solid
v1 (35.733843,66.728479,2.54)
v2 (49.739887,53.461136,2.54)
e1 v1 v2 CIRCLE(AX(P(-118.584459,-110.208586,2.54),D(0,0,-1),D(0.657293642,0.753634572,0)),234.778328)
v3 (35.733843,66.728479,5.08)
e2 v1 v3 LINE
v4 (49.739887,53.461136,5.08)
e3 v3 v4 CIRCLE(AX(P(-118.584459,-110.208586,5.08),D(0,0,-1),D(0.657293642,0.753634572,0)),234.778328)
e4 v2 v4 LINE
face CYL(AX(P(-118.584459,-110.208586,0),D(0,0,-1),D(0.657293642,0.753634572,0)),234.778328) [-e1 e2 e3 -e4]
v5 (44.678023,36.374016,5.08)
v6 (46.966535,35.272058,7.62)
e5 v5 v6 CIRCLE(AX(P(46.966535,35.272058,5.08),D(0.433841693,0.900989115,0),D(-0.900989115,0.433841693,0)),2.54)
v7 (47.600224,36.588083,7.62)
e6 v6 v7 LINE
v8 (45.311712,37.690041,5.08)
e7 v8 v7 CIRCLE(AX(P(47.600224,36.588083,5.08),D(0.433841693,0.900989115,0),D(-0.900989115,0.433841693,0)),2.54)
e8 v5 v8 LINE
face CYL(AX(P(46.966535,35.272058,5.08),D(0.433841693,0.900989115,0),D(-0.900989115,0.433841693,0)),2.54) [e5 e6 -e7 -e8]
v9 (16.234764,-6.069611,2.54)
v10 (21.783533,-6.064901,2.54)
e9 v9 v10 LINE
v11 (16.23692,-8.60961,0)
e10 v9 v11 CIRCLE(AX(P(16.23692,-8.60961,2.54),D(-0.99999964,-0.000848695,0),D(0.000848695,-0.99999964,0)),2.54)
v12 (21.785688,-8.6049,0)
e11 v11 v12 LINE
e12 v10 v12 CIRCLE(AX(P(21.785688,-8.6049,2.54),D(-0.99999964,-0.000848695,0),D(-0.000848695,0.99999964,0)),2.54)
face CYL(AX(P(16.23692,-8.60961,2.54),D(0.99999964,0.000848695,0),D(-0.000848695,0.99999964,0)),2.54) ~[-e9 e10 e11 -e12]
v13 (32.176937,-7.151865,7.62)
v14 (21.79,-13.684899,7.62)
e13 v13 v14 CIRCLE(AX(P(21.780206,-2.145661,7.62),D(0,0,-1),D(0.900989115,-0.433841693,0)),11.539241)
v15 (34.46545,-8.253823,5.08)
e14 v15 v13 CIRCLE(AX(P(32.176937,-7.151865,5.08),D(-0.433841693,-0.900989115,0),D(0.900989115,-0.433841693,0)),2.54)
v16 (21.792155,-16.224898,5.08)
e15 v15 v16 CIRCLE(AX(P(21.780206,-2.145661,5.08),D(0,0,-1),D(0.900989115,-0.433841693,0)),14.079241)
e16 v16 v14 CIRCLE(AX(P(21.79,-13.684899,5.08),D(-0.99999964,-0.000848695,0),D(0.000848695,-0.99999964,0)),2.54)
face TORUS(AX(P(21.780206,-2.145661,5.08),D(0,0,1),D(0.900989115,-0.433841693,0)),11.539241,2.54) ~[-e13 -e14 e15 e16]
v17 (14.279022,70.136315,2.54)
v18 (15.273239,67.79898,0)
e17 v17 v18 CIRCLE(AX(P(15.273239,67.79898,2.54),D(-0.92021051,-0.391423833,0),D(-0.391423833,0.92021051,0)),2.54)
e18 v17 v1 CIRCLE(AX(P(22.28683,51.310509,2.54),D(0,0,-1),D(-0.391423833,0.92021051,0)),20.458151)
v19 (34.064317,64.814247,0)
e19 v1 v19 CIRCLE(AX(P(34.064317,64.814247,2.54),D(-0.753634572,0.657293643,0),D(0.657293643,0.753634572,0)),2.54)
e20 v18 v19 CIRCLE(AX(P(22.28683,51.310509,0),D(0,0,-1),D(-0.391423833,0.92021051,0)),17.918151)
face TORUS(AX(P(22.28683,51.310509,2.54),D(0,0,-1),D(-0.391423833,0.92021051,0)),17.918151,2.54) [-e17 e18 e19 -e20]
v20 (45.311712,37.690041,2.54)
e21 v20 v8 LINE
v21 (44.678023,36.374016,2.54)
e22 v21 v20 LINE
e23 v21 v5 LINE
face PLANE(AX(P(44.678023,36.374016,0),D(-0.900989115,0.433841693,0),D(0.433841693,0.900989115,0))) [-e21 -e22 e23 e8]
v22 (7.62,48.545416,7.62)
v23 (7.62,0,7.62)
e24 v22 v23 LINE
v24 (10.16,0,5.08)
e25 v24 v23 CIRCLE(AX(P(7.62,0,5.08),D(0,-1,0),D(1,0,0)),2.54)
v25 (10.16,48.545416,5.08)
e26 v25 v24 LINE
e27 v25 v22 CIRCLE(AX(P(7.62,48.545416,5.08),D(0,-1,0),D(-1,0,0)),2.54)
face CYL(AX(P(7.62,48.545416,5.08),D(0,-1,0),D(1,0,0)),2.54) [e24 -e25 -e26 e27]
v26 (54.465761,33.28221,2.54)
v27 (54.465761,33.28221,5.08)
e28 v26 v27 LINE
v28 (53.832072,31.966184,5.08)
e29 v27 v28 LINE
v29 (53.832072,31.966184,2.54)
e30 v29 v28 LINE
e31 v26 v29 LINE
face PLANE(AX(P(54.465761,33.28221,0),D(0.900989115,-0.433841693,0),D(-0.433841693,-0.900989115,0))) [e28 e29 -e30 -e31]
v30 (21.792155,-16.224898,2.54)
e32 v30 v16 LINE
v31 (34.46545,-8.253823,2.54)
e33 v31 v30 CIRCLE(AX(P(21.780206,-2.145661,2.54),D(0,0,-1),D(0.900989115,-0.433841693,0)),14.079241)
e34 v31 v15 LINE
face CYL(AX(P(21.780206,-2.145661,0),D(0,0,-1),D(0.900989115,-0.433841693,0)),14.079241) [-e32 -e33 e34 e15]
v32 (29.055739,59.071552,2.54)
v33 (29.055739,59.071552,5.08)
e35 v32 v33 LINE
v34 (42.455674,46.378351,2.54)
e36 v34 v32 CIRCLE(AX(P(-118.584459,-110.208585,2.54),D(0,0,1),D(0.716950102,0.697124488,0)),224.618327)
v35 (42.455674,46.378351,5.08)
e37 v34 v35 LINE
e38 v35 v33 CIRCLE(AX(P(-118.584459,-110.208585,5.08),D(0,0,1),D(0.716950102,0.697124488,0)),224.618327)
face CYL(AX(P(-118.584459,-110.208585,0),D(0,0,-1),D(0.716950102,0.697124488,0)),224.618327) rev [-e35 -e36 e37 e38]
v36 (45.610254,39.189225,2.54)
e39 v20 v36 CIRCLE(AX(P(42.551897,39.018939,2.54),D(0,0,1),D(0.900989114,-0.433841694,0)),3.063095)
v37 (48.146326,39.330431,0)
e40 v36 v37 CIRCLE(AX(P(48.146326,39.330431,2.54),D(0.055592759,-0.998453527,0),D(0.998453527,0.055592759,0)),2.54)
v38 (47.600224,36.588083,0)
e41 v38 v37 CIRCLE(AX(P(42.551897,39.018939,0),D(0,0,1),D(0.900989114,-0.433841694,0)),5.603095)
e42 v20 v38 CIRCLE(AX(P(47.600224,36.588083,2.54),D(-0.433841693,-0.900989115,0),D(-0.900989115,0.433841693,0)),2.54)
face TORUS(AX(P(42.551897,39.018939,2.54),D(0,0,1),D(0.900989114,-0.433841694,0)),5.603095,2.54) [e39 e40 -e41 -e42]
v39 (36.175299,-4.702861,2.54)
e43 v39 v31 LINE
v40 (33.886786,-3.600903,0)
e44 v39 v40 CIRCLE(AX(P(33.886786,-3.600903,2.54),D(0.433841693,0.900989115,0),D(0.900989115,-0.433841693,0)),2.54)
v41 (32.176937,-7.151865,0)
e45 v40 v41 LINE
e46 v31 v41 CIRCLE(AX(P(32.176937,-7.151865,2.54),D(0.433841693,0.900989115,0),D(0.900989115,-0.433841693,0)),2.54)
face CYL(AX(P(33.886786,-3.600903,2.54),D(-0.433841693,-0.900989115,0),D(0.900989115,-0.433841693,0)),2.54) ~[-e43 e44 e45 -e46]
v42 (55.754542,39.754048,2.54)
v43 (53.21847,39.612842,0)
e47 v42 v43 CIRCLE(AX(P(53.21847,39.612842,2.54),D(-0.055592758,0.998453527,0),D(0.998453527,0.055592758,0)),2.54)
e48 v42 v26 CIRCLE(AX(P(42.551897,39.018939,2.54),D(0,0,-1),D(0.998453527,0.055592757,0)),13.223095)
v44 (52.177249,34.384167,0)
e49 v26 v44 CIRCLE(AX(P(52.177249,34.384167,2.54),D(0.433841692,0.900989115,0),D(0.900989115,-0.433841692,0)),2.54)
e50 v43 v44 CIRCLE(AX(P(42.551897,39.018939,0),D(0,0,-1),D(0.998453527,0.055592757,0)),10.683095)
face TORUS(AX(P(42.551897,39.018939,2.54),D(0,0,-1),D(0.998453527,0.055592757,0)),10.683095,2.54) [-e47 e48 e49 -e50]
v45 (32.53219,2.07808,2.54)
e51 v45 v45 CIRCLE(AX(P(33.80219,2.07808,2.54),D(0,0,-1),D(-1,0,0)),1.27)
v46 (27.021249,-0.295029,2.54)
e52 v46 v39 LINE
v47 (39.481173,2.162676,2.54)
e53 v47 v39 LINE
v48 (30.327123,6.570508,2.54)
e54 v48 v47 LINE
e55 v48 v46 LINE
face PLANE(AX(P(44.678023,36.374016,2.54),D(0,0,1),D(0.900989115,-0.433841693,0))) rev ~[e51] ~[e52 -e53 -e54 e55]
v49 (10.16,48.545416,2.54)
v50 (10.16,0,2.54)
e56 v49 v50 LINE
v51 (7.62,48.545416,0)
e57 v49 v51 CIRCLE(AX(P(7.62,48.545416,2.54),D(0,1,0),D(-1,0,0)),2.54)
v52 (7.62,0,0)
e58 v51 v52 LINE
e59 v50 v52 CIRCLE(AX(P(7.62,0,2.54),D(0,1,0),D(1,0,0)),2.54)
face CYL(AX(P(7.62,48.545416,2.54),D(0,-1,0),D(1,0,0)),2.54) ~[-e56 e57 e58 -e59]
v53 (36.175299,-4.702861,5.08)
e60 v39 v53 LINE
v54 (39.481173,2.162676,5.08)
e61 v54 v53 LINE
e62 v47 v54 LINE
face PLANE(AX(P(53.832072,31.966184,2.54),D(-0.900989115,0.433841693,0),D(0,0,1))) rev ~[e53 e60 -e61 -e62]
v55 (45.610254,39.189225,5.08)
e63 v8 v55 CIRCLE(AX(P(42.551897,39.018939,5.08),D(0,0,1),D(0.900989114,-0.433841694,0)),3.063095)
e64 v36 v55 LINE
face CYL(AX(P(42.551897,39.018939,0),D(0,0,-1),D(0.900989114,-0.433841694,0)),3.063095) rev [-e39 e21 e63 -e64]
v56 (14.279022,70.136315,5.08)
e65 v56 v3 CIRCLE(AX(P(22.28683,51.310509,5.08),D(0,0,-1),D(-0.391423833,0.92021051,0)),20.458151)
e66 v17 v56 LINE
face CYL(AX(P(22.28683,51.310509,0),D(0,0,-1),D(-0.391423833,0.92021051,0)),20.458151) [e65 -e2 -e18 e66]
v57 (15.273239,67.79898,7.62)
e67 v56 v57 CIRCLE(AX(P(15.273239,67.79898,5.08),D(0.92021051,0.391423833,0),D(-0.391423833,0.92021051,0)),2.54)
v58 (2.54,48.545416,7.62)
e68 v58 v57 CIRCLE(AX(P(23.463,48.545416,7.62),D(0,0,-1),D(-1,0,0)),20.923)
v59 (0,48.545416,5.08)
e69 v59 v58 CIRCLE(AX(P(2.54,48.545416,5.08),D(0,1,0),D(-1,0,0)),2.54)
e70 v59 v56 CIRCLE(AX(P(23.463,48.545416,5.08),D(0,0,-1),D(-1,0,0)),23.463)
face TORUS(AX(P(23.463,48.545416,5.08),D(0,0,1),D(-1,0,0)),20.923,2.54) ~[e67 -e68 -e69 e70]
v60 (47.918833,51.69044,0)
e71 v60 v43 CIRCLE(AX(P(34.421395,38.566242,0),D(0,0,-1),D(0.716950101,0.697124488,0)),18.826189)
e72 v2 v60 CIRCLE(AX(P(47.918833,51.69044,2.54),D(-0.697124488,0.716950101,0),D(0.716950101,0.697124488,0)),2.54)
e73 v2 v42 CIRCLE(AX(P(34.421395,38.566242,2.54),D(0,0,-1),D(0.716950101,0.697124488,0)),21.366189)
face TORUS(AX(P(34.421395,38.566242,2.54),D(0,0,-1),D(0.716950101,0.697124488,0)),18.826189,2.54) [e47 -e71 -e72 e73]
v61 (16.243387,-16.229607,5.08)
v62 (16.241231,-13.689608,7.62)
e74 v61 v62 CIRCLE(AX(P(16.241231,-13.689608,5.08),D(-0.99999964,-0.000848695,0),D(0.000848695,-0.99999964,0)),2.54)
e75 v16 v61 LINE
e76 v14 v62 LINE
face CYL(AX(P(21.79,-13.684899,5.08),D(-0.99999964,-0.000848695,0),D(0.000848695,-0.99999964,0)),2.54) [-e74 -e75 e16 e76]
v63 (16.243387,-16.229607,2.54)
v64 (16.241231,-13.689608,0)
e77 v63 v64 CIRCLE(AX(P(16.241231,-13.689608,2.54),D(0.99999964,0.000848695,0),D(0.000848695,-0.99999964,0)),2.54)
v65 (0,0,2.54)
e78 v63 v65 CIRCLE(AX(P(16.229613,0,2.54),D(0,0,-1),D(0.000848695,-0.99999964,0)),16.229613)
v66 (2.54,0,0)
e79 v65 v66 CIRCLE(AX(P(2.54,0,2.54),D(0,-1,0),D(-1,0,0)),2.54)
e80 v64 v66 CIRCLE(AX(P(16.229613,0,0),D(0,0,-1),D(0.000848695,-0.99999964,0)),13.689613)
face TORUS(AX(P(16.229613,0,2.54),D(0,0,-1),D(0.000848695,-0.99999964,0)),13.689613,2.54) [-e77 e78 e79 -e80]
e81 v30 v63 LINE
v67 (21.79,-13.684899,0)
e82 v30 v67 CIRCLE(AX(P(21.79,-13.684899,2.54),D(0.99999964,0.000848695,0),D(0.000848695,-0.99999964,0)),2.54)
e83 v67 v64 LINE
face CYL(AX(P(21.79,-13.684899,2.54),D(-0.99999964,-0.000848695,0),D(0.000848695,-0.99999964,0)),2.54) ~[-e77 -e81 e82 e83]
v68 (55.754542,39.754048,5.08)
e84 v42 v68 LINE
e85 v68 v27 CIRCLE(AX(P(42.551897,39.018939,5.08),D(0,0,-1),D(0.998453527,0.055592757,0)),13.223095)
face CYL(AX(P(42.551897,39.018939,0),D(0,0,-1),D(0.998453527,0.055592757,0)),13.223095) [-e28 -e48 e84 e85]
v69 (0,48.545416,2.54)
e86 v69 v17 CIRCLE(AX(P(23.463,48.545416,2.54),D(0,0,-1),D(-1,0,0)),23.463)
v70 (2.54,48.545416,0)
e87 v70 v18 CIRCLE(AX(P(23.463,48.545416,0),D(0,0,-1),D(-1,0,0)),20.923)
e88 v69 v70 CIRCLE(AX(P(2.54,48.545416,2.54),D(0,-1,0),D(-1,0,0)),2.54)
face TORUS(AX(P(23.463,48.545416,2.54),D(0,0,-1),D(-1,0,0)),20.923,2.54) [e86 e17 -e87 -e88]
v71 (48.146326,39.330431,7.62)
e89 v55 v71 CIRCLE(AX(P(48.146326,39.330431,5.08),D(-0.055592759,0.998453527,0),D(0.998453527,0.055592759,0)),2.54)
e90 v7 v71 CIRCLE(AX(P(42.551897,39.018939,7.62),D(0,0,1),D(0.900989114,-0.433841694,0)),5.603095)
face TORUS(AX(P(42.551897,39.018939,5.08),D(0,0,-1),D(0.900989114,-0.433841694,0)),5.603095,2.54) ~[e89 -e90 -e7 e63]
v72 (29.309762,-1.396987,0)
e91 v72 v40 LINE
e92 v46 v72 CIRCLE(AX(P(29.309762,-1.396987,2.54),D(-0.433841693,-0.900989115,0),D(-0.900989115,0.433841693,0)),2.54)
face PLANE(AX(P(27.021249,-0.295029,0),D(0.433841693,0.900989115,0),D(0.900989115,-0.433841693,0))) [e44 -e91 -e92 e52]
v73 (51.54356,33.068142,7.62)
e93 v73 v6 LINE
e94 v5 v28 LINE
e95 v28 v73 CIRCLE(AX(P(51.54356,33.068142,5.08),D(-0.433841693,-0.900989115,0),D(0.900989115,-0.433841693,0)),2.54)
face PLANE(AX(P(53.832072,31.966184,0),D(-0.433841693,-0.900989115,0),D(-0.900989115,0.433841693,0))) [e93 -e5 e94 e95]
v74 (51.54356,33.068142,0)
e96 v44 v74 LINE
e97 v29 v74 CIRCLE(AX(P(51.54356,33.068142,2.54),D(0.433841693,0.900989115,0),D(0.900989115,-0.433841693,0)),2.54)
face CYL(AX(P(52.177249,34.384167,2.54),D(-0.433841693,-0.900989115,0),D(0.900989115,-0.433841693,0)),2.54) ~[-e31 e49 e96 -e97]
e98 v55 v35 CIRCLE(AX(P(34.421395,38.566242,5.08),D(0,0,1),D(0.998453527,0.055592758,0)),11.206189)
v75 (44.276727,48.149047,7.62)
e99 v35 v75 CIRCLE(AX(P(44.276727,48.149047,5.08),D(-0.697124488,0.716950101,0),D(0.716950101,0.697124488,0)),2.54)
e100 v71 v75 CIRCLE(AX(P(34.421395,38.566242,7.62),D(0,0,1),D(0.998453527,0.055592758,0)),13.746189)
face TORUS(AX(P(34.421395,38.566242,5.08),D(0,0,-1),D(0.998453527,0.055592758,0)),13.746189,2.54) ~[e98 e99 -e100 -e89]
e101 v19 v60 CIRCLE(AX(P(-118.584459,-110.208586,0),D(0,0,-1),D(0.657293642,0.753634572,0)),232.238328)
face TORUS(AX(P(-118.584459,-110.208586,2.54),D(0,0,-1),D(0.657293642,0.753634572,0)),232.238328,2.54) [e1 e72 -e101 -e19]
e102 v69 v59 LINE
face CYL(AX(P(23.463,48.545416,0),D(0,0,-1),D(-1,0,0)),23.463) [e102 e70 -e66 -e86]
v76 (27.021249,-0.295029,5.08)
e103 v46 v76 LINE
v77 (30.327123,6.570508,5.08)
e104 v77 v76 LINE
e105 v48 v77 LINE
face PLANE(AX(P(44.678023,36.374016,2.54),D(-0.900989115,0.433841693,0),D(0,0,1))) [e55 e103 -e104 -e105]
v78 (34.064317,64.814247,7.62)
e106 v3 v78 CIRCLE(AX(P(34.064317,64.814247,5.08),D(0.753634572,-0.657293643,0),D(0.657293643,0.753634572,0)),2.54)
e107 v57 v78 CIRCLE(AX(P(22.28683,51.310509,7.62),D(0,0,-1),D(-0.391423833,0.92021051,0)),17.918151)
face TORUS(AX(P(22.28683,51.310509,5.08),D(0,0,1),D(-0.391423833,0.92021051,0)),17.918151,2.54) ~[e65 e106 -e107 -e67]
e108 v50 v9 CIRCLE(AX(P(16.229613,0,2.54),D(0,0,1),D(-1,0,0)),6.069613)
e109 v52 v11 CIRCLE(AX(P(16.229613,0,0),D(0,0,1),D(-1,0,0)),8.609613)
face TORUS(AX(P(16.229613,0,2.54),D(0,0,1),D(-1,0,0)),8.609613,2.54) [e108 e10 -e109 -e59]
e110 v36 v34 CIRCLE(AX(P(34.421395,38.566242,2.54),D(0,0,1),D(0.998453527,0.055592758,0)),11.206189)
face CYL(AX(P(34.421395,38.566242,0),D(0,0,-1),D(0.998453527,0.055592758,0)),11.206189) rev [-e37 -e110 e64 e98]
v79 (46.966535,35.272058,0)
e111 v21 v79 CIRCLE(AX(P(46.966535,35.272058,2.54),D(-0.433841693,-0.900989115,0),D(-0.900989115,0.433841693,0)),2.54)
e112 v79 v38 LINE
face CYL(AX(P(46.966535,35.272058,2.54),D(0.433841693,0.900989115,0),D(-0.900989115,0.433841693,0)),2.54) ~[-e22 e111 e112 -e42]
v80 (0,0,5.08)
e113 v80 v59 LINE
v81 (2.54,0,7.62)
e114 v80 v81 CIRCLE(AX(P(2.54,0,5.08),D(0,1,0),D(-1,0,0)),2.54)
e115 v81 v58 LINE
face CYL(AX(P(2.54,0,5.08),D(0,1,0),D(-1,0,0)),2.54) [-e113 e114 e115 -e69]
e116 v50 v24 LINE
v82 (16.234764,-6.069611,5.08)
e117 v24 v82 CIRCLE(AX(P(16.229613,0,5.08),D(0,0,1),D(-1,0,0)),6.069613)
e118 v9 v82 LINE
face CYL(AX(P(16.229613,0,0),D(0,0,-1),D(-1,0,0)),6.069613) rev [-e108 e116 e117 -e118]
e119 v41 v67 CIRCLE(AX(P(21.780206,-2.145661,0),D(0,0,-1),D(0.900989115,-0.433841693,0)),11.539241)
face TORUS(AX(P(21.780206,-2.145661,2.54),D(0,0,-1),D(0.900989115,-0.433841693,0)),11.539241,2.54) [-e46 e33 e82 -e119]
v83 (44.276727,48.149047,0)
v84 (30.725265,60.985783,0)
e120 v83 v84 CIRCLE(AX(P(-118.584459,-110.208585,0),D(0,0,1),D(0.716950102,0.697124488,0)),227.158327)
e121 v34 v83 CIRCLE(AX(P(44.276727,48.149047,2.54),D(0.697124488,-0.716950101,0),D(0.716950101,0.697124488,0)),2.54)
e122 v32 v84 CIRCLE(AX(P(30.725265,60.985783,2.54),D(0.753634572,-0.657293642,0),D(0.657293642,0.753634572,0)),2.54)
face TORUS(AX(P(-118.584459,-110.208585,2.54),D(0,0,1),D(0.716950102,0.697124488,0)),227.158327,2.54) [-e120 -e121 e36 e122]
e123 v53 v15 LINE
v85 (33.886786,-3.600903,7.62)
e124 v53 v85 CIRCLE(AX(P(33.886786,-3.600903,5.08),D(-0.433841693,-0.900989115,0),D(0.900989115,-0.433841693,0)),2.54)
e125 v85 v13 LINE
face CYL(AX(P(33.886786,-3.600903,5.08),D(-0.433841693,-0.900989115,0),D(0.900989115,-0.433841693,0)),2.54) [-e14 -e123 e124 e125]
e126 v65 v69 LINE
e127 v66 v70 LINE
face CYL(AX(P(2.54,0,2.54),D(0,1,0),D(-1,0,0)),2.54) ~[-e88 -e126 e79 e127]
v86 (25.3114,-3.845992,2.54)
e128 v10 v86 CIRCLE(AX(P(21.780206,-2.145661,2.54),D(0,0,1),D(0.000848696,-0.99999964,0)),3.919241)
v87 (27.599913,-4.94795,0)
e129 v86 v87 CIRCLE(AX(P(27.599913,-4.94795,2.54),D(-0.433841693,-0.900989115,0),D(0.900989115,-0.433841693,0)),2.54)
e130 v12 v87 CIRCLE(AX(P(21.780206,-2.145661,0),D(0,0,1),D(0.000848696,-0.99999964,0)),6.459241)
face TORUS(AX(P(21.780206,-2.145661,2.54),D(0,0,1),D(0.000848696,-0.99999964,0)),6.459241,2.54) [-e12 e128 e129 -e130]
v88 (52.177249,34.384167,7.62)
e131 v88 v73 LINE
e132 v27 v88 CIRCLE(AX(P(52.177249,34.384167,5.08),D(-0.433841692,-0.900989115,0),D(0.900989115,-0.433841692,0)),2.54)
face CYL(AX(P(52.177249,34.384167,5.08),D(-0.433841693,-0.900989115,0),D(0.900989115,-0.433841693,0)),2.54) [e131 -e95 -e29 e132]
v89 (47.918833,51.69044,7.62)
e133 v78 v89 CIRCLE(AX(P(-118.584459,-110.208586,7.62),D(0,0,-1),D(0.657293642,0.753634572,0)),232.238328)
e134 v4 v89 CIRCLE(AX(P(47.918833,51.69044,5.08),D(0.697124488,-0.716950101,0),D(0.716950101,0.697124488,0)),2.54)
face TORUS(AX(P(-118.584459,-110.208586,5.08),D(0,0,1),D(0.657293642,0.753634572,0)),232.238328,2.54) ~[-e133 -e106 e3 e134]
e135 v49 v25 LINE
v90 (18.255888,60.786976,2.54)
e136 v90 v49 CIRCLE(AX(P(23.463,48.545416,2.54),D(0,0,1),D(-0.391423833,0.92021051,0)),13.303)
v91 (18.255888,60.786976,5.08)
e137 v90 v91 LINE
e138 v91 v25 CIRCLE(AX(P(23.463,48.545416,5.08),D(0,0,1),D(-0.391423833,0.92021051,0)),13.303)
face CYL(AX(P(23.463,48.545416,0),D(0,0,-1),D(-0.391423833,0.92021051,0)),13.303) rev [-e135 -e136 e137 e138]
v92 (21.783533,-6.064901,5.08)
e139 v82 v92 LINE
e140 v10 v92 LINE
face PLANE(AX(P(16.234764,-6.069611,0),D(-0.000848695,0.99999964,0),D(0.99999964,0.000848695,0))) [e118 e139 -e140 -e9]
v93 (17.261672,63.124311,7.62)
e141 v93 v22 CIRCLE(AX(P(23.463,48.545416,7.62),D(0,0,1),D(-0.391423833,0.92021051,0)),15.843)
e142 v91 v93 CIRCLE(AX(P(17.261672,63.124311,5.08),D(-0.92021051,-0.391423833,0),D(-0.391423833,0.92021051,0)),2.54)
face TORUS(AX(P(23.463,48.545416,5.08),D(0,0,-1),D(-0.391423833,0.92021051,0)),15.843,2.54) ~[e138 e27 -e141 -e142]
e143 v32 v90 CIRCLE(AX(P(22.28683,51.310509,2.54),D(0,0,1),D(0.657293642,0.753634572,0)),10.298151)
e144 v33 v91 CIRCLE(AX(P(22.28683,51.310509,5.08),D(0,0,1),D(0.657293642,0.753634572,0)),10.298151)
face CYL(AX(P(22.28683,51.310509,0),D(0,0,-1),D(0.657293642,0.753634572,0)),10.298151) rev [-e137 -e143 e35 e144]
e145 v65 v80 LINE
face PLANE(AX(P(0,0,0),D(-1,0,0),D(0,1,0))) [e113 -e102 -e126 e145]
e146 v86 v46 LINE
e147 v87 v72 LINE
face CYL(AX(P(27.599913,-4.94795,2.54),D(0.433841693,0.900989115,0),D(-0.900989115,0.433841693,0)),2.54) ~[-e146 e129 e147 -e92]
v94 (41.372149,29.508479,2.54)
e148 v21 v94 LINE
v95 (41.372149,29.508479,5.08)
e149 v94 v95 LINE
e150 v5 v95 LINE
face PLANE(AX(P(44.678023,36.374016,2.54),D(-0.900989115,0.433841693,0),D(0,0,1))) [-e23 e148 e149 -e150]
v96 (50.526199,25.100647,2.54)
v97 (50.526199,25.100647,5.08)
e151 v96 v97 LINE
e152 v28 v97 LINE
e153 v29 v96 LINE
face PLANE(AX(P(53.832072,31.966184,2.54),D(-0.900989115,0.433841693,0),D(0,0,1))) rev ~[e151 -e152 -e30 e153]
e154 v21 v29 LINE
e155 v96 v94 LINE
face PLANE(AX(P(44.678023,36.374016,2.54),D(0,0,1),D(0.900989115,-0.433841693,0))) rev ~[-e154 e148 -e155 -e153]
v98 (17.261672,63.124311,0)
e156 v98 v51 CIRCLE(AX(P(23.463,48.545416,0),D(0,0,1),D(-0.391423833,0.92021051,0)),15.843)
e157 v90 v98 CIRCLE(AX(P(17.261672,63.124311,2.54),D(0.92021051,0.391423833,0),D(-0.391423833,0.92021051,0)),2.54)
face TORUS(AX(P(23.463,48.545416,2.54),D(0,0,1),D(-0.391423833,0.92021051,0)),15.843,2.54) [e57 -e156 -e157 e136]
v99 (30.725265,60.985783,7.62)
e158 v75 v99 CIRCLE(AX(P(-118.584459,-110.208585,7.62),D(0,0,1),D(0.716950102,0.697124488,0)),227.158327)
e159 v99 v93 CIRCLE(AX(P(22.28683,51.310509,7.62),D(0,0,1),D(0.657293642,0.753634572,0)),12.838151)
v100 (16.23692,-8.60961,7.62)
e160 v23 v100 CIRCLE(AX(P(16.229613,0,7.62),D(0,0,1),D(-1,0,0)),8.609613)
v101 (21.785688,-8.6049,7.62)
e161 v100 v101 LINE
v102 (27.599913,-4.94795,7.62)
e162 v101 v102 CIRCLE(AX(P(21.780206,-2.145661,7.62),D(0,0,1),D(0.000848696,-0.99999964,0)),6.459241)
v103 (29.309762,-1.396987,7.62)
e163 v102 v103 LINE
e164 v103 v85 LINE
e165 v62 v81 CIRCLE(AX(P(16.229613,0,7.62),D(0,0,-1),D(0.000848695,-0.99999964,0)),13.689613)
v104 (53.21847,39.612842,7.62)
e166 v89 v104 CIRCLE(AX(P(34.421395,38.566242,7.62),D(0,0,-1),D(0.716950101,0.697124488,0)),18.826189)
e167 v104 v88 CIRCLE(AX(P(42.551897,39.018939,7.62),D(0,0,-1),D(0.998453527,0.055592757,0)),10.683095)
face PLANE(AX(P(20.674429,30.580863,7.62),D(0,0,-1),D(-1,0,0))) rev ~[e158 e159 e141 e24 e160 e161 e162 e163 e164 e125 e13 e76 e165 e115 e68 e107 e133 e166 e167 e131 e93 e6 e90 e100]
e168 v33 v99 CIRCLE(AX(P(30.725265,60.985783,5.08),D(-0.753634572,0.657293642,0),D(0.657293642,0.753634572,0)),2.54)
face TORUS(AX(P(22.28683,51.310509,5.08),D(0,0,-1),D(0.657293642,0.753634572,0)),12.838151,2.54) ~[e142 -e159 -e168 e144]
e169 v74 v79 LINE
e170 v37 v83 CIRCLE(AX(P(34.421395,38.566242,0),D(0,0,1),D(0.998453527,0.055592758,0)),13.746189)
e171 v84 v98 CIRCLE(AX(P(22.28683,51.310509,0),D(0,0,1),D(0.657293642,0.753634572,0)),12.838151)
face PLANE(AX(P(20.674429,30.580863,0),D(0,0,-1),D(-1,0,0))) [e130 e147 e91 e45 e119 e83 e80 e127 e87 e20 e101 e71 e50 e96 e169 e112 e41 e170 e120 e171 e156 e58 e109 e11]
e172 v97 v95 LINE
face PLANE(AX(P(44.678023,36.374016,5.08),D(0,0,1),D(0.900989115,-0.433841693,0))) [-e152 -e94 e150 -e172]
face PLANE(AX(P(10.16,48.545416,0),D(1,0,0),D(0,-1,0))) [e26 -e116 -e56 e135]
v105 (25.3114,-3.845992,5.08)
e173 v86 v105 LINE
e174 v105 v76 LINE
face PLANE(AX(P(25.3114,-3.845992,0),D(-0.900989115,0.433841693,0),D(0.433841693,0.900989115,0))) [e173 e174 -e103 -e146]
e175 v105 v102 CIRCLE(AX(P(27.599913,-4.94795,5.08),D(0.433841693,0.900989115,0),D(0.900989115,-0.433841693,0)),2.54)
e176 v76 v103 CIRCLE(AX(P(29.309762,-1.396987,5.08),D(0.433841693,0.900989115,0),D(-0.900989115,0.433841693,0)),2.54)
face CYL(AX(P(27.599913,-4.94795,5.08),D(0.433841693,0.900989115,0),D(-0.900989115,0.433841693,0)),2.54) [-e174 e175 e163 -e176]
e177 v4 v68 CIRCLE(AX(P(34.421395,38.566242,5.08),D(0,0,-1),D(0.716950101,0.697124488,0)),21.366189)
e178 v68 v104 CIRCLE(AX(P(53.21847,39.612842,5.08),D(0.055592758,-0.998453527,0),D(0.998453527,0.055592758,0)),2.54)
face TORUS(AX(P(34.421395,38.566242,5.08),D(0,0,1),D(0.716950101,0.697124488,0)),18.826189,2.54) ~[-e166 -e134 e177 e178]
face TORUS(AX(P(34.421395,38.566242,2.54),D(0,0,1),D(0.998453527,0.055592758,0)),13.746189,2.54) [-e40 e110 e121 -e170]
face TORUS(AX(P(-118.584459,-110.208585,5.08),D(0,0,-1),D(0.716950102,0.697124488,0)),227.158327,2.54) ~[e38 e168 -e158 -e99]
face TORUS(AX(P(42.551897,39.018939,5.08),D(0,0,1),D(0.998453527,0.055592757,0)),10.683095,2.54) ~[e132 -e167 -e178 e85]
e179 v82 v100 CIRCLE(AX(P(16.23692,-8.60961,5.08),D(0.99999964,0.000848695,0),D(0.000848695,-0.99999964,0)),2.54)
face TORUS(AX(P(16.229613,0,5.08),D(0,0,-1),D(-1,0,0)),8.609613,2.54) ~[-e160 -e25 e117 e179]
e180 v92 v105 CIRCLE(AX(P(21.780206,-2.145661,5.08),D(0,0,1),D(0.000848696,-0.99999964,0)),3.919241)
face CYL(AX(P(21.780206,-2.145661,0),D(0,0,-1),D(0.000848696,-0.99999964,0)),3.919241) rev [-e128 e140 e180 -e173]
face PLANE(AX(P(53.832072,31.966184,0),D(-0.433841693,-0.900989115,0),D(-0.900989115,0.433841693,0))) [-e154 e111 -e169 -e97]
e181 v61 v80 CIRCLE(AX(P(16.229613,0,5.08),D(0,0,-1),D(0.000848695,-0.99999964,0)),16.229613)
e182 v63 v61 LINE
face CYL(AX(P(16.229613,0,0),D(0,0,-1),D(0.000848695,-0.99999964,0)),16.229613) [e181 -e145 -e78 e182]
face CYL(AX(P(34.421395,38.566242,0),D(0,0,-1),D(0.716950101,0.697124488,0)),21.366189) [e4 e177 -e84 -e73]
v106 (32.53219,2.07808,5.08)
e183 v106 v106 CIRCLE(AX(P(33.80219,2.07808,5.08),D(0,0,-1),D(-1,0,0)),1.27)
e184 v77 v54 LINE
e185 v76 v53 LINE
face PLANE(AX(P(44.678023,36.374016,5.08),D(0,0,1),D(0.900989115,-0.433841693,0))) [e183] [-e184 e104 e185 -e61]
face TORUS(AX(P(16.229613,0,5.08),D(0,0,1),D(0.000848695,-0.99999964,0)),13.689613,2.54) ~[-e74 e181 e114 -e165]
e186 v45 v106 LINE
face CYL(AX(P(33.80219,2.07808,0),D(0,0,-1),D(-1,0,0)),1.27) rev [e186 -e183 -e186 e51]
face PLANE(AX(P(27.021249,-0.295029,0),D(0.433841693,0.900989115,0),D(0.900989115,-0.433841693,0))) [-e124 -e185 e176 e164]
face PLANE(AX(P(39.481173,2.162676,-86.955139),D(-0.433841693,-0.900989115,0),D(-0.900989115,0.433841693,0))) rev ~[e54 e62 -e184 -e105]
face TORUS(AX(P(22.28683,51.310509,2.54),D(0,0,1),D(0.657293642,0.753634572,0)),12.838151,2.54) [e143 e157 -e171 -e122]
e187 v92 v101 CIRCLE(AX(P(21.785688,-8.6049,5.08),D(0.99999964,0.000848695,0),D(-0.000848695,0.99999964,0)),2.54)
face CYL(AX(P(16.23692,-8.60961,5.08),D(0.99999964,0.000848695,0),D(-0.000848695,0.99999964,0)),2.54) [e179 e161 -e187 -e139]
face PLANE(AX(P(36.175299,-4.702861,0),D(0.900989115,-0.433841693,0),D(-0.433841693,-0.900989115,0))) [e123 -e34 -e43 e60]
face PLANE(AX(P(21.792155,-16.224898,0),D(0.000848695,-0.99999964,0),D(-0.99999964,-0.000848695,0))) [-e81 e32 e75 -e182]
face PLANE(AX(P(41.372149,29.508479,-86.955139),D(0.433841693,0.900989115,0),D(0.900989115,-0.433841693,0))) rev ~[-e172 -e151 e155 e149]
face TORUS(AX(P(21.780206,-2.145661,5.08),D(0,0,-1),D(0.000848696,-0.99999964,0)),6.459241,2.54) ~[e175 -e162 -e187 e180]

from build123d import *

# Parameters (mm, degrees)
BOSS_EXTRUDE1_DEPTH     = 7.62
FILLET1_R               = 2.54
SKETCH4_W               = 10.16
SKETCH4_H               = 2.54
BOSS_EXTRUDE2_DEPTH     = 40.698655059
CUT_EXTRUDE1_DEPTH      = 92.035139481
CUT_EXTRUDE1_DEPTH_BACK = 92.035139481
SKETCH7_R               = 1.27
CUT_EXTRUDE2_DEPTH      = 92.212140759


with BuildPart() as part:
    # Sketch2 → Boss-Extrude1 (new body)
    with BuildSketch(Plane.XY):
        with BuildLine():
            Line((557.368573337, 914.592873905), (556.734884655, 913.276848696))
            Line((556.734884655, 913.276848696), (547.580835245, 917.684680294))
            Line((547.580835245, 917.684680294), (548.214523926, 919.000705503))
            ThreePointArc((548.214523926, 919.000705503), (548.458818056, 919.731374997), (548.513066645, 920.499889552))
            ThreePointArc((548.513066645, 920.499889552), (547.585939227, 924.379743345), (545.358485968, 927.689015574))
            ThreePointArc((545.358485968, 927.689015574), (538.788952643, 934.173311823), (531.958551893, 940.382216038))
            ThreePointArc((531.958551893, 940.382216038), (526.80512603, 942.791823737), (521.15870091, 942.097640216))
            ThreePointArc((521.15870091, 942.097640216), (515.269866914, 937.194322522), (513.062812413, 929.85608018))
            Line((513.062812413, 929.85608018), (513.062812413, 881.310664403))
            ThreePointArc((513.062812413, 881.310664403), (514.84238247, 877.01697918), (519.13757646, 875.241053792))
            Line((519.13757646, 875.241053792), (524.686345009, 875.245763006))
            ThreePointArc((524.686345009, 875.245763006), (526.769666342, 875.847420281), (528.214212618, 877.464672677))
            Line((528.214212618, 877.464672677), (529.924061844, 881.015635083))
            Line((529.924061844, 881.015635083), (539.078111254, 876.607803485))
            Line((539.078111254, 876.607803485), (537.368262028, 873.056841079))
            ThreePointArc((537.368262028, 873.056841079), (532.178962974, 867.247123196), (524.69496775, 865.085766665))
            Line((524.69496775, 865.085766665), (519.146199201, 865.081057451))
            ThreePointArc((519.146199201, 865.081057451), (507.66122682, 869.82972633), (502.902812413, 881.310664403))
            Line((502.902812413, 881.310664403), (502.902812413, 929.85608018))
            ThreePointArc((502.902812413, 929.85608018), (506.79547726, 942.798813577), (517.181834766, 951.446978999))
            ThreePointArc((517.181834766, 951.446978999), (528.398937465, 952.826033478), (538.636655301, 948.039143286))
            ThreePointArc((538.636655301, 948.039143286), (545.776010677, 941.549396152), (552.642698999, 934.771800374))
            ThreePointArc((552.642698999, 934.771800374), (556.88965456, 928.462203511), (558.657354478, 921.064711969))
            ThreePointArc((558.657354478, 921.064711969), (558.423168364, 917.747106133), (557.368573337, 914.592873905))
        make_face()
    extrude(amount=BOSS_EXTRUDE1_DEPTH)


with BuildPart() as part_1:
    # Body-Move/Copy1: moved
    add(part.part.moved(Location((-502.902812413, -881.310664403, 0))))

    # Fillet1
    fillet1_edges = [part_1.edges().sort_by_distance(p)[0] for p in [
        (42.873198264, 60.238731749, 7.62),
        (53.986842147, 47.151539108, 7.62),
        (55.520355951, 36.43644173, 7.62),
        (54.148916583, 32.624196898, 7.62),
        (0, 24.272707889, 0),
        (4.758414407, -11.480938073, 0),
        (19.017771063, -16.227252345, 0),
        (29.276150561, -14.063541207, 0),
        (35.320374228, -6.478342121, 0),
        (26.166324818, -2.070510523, 0),
        (23.86685393, -5.463244122, 0),
        (19.009148321, -6.067256004, 0),
        (11.939570057, -4.293685223, 0),
        (10.16, 24.272707889, 0),
        (12.367054501, 55.883658119, 0),
        (44.994867173, 37.032028495, 7.62),
        (23.902313617, 61.481159334, 0),
        (35.88614023, 52.86264742, 0),
        (44.683126814, 43.069078942, 0),
        (45.556005643, 38.420710594, 0),
        (44.994867173, 37.032028495, 0),
        (54.148916583, 32.624196898, 0),
        (45.556005643, 38.420710594, 7.62),
        (55.520355951, 36.43644173, 0),
        (53.986842147, 47.151539108, 0),
        (42.873198264, 60.238731749, 0),
        (25.496125052, 71.515369074, 0),
        (3.892664847, 61.488149174, 0),
        (44.683126814, 43.069078942, 7.62),
        (35.88614023, 52.86264742, 7.62),
        (23.902313617, 61.481159334, 7.62),
        (3.892664847, 61.488149174, 7.62),
        (12.367054501, 55.883658119, 7.62),
        (10.16, 24.272707889, 7.62),
        (11.939570057, -4.293685223, 7.62),
        (19.009148321, -6.067256004, 7.62),
        (23.86685393, -5.463244122, 7.62),
        (26.166324818, -2.070510523, 7.62),
        (35.320374228, -6.478342121, 7.62),
        (29.276150561, -14.063541207, 7.62),
        (19.017771063, -16.227252345, 7.62),
        (25.496125052, 71.515369074, 7.62),
        (4.758414407, -11.480938073, 7.62),
        (0, 24.272707889, 7.62),
    ]]
    fillet(fillet1_edges, radius=FILLET1_R)

    # Sketch4 → Boss-Extrude2 (add)
    with BuildSketch(Plane(origin=(22.627352506, 46.991791376, 0), x_dir=(0.9009891151809732, -0.433841692700698, 0), z_dir=(-0.43384169270069806, -0.9009891151809734, 0))):
        with Locations((29.553847635, 3.81)):
            Rectangle(SKETCH4_W, SKETCH4_H)
    extrude(amount=BOSS_EXTRUDE2_DEPTH)

    # Sketch5 → Cut-Extrude1 (cut, two sides: drawn at the far end of the back side and taken through both)
    with BuildSketch(Plane.XY.offset(5.08).offset(-CUT_EXTRUDE1_DEPTH_BACK)):
        Polygon((41.372149134, 29.508478833), (50.526198544, 25.100647236), (39.48117254, 2.16267614), (30.327123129, 6.570507738), align=None)
    extrude(amount=CUT_EXTRUDE1_DEPTH + CUT_EXTRUDE1_DEPTH_BACK, mode=Mode.SUBTRACT)

    # Sketch7 → Cut-Extrude2 (cut, through all)
    with BuildSketch(Plane.XY):
        with Locations(Location((33.802189935, 2.078079586, 0), (0, 0, 180))):
            Circle(SKETCH7_R)
    extrude(amount=CUT_EXTRUDE2_DEPTH, mode=Mode.SUBTRACT)


solid = part_1.part
